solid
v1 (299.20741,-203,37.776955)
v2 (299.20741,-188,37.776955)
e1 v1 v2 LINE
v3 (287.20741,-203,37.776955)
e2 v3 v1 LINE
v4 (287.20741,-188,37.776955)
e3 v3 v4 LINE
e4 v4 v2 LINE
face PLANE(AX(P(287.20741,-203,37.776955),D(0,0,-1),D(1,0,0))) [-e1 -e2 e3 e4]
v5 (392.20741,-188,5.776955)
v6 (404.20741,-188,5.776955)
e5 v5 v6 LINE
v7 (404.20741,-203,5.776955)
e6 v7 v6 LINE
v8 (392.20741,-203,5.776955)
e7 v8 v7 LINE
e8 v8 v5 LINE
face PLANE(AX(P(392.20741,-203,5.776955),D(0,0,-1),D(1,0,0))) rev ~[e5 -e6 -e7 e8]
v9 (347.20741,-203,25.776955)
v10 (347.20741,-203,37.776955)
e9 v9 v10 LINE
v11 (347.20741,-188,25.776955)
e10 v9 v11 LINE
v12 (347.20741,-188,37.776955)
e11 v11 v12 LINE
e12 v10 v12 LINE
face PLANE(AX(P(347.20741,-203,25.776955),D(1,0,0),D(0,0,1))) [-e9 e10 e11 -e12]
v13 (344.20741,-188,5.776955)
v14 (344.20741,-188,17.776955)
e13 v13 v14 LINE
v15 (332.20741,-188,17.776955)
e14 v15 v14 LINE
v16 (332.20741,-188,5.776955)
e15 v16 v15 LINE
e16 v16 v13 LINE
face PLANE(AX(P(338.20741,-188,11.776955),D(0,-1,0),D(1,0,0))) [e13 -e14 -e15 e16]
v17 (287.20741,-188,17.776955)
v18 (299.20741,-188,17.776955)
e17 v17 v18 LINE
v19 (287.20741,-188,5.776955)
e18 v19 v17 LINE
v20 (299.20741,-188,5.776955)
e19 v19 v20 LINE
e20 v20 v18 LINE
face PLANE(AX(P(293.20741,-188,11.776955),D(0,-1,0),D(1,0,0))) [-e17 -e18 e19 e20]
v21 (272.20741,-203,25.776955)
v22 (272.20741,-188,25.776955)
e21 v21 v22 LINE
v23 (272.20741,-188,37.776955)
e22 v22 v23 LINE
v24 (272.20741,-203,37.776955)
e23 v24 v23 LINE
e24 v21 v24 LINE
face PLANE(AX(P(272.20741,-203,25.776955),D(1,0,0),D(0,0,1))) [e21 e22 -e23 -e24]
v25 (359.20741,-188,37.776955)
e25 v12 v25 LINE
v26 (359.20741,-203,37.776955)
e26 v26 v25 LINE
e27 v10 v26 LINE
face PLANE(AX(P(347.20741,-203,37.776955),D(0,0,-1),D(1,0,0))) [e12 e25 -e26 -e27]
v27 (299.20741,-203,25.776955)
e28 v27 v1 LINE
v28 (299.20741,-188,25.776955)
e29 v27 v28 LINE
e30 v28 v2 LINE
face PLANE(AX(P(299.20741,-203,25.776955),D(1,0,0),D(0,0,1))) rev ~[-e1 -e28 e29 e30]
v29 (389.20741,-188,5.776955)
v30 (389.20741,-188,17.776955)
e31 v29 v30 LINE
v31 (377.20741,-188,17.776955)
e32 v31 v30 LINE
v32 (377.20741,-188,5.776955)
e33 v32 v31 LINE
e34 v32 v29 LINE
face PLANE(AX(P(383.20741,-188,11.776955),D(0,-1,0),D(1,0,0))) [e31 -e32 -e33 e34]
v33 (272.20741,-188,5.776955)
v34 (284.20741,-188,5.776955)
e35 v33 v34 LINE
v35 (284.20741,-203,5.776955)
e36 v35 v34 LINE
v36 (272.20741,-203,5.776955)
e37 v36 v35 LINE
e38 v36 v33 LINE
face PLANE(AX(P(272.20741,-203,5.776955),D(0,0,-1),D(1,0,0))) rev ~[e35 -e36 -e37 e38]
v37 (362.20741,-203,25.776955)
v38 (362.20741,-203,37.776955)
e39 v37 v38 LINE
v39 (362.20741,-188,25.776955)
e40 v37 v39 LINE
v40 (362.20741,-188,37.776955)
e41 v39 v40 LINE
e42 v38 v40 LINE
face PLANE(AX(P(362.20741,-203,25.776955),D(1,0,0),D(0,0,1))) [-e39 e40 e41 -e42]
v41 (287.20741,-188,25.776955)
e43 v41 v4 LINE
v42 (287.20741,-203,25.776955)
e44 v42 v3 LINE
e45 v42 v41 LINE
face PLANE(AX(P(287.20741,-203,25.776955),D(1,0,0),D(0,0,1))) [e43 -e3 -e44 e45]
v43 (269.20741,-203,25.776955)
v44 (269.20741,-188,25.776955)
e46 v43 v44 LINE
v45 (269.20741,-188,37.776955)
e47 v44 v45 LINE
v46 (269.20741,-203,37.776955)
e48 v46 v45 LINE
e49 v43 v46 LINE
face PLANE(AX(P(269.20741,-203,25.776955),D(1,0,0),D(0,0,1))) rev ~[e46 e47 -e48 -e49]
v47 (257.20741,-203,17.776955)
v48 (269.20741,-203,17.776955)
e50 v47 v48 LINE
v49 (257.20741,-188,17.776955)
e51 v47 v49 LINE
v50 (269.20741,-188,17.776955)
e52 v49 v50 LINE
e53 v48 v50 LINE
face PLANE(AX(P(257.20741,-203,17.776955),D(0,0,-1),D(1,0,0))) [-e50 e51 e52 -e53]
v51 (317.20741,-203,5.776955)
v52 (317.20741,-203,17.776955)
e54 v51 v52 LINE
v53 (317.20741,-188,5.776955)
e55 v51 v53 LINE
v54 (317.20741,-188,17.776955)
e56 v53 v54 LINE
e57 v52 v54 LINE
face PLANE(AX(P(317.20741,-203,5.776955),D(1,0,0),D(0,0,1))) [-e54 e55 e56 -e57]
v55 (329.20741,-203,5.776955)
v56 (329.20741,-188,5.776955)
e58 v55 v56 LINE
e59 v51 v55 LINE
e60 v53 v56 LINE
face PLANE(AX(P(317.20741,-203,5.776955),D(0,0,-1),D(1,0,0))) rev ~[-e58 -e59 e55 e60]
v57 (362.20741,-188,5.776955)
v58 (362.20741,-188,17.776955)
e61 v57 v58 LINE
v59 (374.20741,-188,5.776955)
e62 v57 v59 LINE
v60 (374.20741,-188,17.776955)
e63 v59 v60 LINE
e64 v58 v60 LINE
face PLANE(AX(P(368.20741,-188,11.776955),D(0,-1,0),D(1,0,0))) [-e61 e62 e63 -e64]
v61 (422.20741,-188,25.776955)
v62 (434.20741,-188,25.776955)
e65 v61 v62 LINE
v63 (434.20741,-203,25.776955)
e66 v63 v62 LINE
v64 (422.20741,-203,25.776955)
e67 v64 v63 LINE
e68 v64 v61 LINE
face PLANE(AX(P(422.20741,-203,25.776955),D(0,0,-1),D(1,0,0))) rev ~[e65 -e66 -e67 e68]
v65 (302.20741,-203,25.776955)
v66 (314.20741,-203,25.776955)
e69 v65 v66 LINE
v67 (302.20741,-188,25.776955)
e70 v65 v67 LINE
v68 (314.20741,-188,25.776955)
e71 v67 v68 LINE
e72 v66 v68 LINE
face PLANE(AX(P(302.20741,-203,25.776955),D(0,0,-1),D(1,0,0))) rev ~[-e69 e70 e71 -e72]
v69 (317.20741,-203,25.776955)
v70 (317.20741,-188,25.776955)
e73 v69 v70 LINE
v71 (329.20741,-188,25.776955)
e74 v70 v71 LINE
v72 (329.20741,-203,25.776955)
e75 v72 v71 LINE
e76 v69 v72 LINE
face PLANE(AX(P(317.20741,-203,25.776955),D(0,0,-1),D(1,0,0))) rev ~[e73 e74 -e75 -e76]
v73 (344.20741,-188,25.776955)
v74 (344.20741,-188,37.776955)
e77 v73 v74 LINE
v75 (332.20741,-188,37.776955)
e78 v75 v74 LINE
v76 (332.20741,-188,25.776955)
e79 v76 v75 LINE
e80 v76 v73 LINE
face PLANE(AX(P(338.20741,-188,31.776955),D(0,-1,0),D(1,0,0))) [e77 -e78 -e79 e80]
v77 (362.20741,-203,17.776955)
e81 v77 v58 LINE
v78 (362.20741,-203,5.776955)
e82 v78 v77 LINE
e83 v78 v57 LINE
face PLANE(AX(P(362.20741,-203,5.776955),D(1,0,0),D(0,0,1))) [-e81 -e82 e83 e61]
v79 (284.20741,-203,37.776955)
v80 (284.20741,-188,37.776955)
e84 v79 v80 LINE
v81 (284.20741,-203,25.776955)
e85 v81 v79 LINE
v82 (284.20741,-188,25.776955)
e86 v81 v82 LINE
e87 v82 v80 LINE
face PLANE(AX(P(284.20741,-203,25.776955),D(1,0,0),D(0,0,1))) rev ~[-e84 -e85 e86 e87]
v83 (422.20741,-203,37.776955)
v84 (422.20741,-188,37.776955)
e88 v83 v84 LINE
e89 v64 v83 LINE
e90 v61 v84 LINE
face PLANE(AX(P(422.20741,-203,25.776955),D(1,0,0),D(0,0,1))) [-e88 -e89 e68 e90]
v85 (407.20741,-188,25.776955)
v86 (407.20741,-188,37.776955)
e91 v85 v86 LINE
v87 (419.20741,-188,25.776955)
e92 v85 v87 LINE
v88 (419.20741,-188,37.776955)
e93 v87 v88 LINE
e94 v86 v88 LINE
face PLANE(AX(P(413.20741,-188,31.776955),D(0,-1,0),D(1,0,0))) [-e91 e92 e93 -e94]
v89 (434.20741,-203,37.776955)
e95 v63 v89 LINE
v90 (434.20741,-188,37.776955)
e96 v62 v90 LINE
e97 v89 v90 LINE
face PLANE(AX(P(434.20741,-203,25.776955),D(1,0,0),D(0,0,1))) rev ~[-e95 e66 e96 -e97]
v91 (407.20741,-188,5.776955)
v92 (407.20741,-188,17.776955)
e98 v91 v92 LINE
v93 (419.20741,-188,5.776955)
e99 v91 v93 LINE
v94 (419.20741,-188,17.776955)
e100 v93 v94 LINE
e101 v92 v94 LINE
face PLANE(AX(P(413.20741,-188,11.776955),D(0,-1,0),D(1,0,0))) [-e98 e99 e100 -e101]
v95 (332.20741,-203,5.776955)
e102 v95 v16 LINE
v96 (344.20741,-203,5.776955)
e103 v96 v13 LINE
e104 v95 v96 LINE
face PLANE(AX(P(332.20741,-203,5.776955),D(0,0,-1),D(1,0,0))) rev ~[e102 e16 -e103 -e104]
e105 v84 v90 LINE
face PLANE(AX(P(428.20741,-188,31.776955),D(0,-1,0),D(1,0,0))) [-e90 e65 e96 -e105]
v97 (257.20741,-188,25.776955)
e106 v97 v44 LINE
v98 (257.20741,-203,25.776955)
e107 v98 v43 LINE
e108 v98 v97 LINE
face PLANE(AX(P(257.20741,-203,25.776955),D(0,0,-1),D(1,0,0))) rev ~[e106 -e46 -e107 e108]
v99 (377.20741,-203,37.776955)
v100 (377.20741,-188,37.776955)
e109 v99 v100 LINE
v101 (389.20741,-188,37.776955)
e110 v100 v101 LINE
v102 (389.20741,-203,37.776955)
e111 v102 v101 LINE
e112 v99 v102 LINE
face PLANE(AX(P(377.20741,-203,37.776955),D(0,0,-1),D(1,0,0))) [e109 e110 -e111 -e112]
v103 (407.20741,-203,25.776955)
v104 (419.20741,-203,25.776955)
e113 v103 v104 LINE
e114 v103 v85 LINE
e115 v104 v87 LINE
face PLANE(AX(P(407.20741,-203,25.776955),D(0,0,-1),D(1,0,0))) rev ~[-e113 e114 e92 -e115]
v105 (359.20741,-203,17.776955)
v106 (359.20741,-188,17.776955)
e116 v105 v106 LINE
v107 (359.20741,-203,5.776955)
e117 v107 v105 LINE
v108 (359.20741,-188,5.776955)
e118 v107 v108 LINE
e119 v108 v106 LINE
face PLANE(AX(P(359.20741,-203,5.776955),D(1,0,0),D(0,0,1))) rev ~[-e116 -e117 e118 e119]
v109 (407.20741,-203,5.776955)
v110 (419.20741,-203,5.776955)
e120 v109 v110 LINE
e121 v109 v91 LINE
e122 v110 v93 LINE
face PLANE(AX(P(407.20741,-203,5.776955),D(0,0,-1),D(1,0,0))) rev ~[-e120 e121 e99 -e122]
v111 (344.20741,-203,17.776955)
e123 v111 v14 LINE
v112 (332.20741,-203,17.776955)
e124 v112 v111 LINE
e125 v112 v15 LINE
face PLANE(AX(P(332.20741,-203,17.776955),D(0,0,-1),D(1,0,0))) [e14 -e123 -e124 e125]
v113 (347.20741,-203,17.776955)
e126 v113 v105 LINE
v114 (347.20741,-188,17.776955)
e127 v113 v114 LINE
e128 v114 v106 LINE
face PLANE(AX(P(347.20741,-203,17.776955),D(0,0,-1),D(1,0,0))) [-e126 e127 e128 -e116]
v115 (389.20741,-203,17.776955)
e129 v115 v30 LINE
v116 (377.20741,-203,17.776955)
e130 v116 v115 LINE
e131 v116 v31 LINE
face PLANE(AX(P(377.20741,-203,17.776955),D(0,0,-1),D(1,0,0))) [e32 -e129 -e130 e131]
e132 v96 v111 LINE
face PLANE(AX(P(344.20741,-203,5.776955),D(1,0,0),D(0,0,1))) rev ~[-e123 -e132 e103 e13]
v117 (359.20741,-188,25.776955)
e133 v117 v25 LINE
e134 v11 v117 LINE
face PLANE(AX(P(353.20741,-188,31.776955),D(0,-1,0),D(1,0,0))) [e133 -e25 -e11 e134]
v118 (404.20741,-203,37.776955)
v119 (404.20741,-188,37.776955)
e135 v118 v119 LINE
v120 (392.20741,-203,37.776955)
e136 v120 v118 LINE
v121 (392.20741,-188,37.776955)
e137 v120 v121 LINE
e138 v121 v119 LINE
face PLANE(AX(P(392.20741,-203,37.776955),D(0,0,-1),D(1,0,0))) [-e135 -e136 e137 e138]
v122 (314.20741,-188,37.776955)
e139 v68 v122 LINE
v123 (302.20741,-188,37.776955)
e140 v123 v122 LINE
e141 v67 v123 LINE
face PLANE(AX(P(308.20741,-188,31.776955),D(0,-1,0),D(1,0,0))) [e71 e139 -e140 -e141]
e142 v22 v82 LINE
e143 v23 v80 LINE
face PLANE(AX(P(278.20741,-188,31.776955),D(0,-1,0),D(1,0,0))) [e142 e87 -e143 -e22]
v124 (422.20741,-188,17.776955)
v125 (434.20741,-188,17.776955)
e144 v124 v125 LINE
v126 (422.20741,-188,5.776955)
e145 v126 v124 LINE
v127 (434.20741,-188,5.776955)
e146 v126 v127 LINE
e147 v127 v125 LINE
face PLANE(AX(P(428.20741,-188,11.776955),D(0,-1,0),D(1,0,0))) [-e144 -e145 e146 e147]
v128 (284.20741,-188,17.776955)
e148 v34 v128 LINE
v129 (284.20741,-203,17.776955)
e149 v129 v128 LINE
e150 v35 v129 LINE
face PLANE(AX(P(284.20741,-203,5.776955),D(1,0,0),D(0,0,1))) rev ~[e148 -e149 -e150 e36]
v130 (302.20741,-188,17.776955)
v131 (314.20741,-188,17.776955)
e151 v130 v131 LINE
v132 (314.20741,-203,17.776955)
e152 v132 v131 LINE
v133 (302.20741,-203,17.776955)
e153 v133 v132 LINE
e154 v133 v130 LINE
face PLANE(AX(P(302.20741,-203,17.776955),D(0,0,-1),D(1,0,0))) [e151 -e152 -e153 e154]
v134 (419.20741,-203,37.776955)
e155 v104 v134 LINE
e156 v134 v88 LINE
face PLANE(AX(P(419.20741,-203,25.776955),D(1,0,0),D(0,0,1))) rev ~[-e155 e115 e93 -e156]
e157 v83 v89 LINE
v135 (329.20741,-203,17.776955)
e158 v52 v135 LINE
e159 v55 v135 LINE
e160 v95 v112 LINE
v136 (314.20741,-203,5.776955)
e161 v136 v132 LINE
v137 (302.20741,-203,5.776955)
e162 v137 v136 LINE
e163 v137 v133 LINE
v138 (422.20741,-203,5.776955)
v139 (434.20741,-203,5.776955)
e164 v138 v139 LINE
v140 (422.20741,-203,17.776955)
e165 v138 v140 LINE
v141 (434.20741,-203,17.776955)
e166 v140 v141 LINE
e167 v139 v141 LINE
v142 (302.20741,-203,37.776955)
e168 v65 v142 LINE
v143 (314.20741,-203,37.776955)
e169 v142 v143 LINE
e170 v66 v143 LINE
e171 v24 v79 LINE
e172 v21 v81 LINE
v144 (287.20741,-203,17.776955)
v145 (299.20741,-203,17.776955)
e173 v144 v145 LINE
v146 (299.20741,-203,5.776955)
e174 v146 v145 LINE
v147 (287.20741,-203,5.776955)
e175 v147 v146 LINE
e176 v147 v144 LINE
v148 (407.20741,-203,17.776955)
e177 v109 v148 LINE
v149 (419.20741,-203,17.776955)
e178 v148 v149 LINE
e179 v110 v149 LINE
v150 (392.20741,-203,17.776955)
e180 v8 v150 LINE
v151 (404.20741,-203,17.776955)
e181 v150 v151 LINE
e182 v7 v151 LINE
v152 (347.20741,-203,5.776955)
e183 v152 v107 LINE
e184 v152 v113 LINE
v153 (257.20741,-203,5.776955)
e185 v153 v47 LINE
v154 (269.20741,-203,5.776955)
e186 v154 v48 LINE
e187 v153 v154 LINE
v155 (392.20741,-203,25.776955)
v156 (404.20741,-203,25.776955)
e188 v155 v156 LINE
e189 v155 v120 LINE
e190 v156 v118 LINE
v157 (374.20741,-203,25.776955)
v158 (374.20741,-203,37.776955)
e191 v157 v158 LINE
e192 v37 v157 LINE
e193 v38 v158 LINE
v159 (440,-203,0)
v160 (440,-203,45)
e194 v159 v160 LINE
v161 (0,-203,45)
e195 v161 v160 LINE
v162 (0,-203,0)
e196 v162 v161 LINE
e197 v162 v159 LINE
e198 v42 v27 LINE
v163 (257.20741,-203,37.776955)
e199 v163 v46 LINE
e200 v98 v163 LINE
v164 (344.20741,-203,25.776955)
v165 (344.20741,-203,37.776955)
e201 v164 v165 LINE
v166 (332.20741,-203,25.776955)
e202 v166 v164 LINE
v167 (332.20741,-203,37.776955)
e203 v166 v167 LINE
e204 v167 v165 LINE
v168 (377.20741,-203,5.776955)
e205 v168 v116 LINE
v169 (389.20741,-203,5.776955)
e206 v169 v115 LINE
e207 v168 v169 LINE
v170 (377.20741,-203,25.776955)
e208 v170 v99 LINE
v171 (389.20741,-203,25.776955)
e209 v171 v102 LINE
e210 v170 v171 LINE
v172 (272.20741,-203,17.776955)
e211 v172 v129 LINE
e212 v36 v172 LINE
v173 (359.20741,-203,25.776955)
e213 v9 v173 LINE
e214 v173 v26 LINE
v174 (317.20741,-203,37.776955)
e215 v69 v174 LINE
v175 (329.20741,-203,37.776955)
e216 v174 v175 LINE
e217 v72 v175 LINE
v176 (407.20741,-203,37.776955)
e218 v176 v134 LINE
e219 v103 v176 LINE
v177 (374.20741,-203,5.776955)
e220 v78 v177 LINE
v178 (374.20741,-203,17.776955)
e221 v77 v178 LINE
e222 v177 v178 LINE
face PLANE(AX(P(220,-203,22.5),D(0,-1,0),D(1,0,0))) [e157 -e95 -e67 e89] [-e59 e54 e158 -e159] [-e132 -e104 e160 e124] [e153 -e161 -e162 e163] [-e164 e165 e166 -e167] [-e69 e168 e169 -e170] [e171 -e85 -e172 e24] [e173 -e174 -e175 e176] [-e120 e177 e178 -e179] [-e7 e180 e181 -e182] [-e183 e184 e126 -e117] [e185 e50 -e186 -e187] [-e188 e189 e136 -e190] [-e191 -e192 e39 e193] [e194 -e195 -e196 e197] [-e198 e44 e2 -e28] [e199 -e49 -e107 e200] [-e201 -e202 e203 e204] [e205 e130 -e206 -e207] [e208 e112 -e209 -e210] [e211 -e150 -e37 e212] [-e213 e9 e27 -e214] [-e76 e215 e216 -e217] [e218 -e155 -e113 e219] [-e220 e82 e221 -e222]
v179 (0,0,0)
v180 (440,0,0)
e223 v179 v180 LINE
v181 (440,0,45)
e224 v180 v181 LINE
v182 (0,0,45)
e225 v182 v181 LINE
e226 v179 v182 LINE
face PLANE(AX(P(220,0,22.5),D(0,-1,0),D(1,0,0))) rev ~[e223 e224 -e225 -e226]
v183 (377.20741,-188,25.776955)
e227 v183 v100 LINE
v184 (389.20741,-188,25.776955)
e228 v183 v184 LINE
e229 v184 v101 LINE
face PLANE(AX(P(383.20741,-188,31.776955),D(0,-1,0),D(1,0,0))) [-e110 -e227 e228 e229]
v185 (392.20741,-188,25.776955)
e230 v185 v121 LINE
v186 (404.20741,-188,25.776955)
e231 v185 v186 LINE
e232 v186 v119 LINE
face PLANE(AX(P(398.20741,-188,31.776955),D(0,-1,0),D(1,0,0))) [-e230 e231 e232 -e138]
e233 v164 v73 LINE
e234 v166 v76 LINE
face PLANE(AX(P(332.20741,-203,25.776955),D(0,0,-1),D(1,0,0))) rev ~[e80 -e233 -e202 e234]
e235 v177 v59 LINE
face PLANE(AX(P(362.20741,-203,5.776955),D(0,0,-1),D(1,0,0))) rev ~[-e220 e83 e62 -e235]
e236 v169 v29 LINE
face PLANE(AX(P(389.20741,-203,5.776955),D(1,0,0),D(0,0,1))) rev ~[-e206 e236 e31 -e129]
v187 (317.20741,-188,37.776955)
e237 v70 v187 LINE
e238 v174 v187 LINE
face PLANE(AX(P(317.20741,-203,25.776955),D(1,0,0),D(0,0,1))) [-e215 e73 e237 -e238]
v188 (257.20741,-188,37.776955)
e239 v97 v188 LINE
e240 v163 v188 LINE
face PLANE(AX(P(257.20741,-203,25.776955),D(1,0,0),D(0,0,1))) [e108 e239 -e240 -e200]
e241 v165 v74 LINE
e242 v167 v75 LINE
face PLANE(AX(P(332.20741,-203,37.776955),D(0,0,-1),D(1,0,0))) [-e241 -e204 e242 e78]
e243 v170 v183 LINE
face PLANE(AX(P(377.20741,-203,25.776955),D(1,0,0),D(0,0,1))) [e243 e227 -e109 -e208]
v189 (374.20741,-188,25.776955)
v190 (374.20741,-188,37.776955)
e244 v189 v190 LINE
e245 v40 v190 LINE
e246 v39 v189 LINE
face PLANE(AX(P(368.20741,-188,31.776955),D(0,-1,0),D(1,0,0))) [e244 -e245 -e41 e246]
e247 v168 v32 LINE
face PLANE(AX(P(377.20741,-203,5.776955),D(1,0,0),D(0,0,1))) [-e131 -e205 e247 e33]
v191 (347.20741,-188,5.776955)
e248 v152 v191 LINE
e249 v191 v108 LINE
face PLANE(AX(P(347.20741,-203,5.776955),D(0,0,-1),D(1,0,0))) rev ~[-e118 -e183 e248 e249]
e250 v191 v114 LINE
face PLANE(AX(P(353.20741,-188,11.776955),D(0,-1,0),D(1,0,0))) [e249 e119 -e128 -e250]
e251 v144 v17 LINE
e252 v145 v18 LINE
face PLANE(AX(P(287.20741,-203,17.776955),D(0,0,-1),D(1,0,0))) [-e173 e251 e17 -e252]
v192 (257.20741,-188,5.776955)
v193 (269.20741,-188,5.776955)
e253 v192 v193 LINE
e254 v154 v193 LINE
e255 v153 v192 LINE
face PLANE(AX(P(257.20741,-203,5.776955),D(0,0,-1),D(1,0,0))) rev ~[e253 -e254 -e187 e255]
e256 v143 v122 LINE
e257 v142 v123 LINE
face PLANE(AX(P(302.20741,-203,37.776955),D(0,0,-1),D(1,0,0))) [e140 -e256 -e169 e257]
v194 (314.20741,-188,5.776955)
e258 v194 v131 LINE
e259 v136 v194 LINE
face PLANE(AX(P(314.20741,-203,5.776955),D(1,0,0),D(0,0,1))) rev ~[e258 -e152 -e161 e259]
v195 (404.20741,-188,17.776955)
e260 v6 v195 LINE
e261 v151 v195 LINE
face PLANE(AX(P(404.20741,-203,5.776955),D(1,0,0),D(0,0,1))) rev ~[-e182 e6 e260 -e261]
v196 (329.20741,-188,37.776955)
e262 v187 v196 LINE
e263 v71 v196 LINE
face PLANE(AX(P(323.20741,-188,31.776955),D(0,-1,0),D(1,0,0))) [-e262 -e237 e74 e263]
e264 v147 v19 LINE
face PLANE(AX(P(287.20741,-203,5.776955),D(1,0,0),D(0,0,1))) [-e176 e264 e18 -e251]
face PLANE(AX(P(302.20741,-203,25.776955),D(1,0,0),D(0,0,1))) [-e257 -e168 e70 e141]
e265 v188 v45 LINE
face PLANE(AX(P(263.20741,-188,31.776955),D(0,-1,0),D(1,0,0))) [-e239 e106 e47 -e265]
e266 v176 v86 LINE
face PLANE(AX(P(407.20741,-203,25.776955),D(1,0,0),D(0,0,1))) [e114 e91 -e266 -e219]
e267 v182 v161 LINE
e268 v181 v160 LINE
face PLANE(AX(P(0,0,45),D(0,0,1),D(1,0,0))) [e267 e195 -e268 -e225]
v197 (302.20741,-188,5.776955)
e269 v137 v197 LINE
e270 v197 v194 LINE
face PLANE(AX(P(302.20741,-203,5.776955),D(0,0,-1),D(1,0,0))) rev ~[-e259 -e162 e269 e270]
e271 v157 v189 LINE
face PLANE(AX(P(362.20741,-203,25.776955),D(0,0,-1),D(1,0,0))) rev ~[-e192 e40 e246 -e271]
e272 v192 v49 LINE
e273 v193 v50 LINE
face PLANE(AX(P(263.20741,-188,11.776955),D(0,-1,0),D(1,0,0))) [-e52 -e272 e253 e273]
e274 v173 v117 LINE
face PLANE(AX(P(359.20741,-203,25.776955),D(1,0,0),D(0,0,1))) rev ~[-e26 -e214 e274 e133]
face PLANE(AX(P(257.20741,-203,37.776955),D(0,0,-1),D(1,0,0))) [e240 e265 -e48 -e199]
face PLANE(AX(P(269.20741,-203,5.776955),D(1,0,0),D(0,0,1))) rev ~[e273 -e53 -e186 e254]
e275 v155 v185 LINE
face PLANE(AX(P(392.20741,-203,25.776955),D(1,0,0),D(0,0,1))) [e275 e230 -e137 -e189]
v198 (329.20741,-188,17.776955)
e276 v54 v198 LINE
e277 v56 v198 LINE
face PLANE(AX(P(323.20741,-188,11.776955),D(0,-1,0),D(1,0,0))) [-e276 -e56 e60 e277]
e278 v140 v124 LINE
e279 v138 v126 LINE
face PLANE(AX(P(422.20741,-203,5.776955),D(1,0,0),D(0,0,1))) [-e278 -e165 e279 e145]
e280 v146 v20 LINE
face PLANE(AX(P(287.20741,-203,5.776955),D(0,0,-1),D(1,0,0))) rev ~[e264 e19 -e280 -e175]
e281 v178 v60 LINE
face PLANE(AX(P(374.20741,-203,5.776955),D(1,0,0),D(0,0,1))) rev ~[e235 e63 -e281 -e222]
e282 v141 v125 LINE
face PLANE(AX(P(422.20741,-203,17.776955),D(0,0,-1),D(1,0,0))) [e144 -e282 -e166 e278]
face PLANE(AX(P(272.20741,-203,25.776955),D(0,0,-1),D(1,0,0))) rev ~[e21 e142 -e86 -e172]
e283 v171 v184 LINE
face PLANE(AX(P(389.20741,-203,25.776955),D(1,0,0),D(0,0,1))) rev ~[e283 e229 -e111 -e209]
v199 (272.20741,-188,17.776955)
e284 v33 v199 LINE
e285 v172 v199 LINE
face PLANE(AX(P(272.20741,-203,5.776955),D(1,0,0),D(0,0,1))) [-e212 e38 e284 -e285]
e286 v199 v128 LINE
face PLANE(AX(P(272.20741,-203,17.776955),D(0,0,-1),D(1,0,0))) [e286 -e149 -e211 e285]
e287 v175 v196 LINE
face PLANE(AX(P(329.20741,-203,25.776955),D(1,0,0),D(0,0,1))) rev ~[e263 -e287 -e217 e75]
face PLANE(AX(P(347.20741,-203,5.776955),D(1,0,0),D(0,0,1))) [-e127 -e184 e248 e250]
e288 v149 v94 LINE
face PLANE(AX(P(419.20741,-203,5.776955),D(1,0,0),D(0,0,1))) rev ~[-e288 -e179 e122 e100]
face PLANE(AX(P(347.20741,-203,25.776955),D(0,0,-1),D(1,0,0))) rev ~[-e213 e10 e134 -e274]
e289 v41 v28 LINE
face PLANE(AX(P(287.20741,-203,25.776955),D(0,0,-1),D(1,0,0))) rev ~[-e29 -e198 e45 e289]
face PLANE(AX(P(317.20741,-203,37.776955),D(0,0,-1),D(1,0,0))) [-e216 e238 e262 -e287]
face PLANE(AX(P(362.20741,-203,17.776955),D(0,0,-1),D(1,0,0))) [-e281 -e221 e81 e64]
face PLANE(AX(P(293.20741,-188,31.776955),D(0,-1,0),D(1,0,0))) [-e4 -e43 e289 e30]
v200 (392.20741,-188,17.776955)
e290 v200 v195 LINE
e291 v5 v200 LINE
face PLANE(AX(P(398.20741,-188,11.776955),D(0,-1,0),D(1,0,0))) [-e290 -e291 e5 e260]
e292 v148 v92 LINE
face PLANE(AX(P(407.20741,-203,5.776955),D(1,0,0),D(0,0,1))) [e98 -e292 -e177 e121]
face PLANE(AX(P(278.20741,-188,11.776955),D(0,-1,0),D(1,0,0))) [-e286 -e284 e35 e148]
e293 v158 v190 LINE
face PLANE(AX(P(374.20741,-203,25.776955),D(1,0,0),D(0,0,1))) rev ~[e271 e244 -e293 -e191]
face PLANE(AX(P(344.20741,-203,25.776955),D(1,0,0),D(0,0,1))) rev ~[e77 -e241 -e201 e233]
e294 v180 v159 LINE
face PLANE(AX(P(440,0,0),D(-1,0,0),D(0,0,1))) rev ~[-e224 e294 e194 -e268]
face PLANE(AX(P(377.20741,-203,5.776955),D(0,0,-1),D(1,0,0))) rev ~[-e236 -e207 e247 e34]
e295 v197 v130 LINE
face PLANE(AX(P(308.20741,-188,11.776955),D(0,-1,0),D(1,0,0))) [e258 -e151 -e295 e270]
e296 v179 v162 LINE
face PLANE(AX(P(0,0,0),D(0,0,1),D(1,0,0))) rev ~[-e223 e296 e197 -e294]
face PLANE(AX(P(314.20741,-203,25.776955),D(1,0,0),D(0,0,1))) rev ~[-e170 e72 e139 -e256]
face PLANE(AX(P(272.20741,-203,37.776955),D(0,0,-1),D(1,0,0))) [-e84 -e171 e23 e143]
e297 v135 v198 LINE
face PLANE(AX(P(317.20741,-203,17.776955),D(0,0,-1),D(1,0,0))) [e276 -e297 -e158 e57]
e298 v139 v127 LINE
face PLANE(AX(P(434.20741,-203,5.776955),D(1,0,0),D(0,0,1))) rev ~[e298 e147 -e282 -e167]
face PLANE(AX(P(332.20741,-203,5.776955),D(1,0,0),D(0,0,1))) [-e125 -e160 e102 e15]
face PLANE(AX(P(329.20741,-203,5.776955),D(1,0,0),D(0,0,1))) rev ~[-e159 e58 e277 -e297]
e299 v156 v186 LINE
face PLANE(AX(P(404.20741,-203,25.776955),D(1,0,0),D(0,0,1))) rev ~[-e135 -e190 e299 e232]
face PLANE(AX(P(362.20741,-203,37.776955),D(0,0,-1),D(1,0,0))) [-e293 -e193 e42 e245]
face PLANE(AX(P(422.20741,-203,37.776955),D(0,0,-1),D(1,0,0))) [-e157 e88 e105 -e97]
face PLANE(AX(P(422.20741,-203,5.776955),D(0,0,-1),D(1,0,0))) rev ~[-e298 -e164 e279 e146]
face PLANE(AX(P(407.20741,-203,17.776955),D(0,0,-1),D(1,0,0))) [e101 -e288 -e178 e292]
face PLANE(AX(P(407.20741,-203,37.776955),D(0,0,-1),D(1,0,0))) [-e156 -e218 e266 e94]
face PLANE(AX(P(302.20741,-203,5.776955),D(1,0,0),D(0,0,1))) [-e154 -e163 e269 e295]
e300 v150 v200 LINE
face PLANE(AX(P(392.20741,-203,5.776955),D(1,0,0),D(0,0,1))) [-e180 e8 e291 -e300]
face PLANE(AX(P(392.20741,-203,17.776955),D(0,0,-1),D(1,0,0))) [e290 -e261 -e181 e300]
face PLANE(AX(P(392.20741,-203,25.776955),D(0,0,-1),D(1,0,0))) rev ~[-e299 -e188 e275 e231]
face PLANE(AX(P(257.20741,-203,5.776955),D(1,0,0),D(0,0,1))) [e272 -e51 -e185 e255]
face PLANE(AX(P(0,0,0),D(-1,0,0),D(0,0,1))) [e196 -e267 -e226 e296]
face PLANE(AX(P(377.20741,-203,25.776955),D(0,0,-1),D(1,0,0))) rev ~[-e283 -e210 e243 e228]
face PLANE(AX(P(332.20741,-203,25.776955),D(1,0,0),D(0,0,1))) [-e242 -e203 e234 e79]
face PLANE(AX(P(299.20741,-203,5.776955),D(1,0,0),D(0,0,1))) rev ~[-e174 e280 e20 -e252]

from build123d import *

# Parameters (mm, degrees)
F0_W     = 440
F0_H     = 45
F1_DEPTH = 203
F2_W     = 12
F2_H     = 12
F3_DEPTH = 15


with BuildPart() as f1:
    # F0 (on Front) → F1 (new body)
    with BuildSketch(Plane.XZ):
        with Locations((220, 22.5)):
            Rectangle(F0_W, F0_H)
    extrude(amount=F1_DEPTH)

    # F2 (on face) → F3 (cut)
    with BuildSketch(Plane.XZ.offset(203)):
        with Locations((428.20741, 31.776955)):
            Rectangle(F2_W, F2_H)
        with Locations((413.20741, 31.776955)):
            Rectangle(F2_W, F2_H)
        with Locations((383.20741, 31.776955)):
            Rectangle(F2_W, F2_H)
        with Locations((398.20741, 31.776955)):
            Rectangle(F2_W, F2_H)
        with Locations((368.20741, 31.776955)):
            Rectangle(F2_W, F2_H)
        with Locations((353.20741, 31.776955)):
            Rectangle(F2_W, F2_H)
        with Locations((338.20741, 31.776955)):
            Rectangle(F2_W, F2_H)
        with Locations((323.20741, 31.776955)):
            Rectangle(F2_W, F2_H)
        with Locations((308.20741, 31.776955)):
            Rectangle(F2_W, F2_H)
        with Locations((293.20741, 31.776955)):
            Rectangle(F2_W, F2_H)
        with Locations((278.20741, 31.776955)):
            Rectangle(F2_W, F2_H)
        with Locations((263.20741, 31.776955)):
            Rectangle(F2_W, F2_H)
        with Locations((428.20741, 11.776955)):
            Rectangle(F2_W, F2_H)
        with Locations((413.20741, 11.776955)):
            Rectangle(F2_W, F2_H)
        with Locations((263.20741, 11.776955)):
            Rectangle(F2_W, F2_H)
        with Locations((278.20741, 11.776955)):
            Rectangle(F2_W, F2_H)
        with Locations((293.20741, 11.776955)):
            Rectangle(F2_W, F2_H)
        with Locations((308.20741, 11.776955)):
            Rectangle(F2_W, F2_H)
        with Locations((323.20741, 11.776955)):
            Rectangle(F2_W, F2_H)
        with Locations((338.20741, 11.776955)):
            Rectangle(F2_W, F2_H)
        with Locations((353.20741, 11.776955)):
            Rectangle(F2_W, F2_H)
        with Locations((368.20741, 11.776955)):
            Rectangle(F2_W, F2_H)
        with Locations((383.20741, 11.776955)):
            Rectangle(F2_W, F2_H)
        with Locations((398.20741, 11.776955)):
            Rectangle(F2_W, F2_H)
    extrude(amount=-F3_DEPTH, mode=Mode.SUBTRACT)


solid = f1.part
